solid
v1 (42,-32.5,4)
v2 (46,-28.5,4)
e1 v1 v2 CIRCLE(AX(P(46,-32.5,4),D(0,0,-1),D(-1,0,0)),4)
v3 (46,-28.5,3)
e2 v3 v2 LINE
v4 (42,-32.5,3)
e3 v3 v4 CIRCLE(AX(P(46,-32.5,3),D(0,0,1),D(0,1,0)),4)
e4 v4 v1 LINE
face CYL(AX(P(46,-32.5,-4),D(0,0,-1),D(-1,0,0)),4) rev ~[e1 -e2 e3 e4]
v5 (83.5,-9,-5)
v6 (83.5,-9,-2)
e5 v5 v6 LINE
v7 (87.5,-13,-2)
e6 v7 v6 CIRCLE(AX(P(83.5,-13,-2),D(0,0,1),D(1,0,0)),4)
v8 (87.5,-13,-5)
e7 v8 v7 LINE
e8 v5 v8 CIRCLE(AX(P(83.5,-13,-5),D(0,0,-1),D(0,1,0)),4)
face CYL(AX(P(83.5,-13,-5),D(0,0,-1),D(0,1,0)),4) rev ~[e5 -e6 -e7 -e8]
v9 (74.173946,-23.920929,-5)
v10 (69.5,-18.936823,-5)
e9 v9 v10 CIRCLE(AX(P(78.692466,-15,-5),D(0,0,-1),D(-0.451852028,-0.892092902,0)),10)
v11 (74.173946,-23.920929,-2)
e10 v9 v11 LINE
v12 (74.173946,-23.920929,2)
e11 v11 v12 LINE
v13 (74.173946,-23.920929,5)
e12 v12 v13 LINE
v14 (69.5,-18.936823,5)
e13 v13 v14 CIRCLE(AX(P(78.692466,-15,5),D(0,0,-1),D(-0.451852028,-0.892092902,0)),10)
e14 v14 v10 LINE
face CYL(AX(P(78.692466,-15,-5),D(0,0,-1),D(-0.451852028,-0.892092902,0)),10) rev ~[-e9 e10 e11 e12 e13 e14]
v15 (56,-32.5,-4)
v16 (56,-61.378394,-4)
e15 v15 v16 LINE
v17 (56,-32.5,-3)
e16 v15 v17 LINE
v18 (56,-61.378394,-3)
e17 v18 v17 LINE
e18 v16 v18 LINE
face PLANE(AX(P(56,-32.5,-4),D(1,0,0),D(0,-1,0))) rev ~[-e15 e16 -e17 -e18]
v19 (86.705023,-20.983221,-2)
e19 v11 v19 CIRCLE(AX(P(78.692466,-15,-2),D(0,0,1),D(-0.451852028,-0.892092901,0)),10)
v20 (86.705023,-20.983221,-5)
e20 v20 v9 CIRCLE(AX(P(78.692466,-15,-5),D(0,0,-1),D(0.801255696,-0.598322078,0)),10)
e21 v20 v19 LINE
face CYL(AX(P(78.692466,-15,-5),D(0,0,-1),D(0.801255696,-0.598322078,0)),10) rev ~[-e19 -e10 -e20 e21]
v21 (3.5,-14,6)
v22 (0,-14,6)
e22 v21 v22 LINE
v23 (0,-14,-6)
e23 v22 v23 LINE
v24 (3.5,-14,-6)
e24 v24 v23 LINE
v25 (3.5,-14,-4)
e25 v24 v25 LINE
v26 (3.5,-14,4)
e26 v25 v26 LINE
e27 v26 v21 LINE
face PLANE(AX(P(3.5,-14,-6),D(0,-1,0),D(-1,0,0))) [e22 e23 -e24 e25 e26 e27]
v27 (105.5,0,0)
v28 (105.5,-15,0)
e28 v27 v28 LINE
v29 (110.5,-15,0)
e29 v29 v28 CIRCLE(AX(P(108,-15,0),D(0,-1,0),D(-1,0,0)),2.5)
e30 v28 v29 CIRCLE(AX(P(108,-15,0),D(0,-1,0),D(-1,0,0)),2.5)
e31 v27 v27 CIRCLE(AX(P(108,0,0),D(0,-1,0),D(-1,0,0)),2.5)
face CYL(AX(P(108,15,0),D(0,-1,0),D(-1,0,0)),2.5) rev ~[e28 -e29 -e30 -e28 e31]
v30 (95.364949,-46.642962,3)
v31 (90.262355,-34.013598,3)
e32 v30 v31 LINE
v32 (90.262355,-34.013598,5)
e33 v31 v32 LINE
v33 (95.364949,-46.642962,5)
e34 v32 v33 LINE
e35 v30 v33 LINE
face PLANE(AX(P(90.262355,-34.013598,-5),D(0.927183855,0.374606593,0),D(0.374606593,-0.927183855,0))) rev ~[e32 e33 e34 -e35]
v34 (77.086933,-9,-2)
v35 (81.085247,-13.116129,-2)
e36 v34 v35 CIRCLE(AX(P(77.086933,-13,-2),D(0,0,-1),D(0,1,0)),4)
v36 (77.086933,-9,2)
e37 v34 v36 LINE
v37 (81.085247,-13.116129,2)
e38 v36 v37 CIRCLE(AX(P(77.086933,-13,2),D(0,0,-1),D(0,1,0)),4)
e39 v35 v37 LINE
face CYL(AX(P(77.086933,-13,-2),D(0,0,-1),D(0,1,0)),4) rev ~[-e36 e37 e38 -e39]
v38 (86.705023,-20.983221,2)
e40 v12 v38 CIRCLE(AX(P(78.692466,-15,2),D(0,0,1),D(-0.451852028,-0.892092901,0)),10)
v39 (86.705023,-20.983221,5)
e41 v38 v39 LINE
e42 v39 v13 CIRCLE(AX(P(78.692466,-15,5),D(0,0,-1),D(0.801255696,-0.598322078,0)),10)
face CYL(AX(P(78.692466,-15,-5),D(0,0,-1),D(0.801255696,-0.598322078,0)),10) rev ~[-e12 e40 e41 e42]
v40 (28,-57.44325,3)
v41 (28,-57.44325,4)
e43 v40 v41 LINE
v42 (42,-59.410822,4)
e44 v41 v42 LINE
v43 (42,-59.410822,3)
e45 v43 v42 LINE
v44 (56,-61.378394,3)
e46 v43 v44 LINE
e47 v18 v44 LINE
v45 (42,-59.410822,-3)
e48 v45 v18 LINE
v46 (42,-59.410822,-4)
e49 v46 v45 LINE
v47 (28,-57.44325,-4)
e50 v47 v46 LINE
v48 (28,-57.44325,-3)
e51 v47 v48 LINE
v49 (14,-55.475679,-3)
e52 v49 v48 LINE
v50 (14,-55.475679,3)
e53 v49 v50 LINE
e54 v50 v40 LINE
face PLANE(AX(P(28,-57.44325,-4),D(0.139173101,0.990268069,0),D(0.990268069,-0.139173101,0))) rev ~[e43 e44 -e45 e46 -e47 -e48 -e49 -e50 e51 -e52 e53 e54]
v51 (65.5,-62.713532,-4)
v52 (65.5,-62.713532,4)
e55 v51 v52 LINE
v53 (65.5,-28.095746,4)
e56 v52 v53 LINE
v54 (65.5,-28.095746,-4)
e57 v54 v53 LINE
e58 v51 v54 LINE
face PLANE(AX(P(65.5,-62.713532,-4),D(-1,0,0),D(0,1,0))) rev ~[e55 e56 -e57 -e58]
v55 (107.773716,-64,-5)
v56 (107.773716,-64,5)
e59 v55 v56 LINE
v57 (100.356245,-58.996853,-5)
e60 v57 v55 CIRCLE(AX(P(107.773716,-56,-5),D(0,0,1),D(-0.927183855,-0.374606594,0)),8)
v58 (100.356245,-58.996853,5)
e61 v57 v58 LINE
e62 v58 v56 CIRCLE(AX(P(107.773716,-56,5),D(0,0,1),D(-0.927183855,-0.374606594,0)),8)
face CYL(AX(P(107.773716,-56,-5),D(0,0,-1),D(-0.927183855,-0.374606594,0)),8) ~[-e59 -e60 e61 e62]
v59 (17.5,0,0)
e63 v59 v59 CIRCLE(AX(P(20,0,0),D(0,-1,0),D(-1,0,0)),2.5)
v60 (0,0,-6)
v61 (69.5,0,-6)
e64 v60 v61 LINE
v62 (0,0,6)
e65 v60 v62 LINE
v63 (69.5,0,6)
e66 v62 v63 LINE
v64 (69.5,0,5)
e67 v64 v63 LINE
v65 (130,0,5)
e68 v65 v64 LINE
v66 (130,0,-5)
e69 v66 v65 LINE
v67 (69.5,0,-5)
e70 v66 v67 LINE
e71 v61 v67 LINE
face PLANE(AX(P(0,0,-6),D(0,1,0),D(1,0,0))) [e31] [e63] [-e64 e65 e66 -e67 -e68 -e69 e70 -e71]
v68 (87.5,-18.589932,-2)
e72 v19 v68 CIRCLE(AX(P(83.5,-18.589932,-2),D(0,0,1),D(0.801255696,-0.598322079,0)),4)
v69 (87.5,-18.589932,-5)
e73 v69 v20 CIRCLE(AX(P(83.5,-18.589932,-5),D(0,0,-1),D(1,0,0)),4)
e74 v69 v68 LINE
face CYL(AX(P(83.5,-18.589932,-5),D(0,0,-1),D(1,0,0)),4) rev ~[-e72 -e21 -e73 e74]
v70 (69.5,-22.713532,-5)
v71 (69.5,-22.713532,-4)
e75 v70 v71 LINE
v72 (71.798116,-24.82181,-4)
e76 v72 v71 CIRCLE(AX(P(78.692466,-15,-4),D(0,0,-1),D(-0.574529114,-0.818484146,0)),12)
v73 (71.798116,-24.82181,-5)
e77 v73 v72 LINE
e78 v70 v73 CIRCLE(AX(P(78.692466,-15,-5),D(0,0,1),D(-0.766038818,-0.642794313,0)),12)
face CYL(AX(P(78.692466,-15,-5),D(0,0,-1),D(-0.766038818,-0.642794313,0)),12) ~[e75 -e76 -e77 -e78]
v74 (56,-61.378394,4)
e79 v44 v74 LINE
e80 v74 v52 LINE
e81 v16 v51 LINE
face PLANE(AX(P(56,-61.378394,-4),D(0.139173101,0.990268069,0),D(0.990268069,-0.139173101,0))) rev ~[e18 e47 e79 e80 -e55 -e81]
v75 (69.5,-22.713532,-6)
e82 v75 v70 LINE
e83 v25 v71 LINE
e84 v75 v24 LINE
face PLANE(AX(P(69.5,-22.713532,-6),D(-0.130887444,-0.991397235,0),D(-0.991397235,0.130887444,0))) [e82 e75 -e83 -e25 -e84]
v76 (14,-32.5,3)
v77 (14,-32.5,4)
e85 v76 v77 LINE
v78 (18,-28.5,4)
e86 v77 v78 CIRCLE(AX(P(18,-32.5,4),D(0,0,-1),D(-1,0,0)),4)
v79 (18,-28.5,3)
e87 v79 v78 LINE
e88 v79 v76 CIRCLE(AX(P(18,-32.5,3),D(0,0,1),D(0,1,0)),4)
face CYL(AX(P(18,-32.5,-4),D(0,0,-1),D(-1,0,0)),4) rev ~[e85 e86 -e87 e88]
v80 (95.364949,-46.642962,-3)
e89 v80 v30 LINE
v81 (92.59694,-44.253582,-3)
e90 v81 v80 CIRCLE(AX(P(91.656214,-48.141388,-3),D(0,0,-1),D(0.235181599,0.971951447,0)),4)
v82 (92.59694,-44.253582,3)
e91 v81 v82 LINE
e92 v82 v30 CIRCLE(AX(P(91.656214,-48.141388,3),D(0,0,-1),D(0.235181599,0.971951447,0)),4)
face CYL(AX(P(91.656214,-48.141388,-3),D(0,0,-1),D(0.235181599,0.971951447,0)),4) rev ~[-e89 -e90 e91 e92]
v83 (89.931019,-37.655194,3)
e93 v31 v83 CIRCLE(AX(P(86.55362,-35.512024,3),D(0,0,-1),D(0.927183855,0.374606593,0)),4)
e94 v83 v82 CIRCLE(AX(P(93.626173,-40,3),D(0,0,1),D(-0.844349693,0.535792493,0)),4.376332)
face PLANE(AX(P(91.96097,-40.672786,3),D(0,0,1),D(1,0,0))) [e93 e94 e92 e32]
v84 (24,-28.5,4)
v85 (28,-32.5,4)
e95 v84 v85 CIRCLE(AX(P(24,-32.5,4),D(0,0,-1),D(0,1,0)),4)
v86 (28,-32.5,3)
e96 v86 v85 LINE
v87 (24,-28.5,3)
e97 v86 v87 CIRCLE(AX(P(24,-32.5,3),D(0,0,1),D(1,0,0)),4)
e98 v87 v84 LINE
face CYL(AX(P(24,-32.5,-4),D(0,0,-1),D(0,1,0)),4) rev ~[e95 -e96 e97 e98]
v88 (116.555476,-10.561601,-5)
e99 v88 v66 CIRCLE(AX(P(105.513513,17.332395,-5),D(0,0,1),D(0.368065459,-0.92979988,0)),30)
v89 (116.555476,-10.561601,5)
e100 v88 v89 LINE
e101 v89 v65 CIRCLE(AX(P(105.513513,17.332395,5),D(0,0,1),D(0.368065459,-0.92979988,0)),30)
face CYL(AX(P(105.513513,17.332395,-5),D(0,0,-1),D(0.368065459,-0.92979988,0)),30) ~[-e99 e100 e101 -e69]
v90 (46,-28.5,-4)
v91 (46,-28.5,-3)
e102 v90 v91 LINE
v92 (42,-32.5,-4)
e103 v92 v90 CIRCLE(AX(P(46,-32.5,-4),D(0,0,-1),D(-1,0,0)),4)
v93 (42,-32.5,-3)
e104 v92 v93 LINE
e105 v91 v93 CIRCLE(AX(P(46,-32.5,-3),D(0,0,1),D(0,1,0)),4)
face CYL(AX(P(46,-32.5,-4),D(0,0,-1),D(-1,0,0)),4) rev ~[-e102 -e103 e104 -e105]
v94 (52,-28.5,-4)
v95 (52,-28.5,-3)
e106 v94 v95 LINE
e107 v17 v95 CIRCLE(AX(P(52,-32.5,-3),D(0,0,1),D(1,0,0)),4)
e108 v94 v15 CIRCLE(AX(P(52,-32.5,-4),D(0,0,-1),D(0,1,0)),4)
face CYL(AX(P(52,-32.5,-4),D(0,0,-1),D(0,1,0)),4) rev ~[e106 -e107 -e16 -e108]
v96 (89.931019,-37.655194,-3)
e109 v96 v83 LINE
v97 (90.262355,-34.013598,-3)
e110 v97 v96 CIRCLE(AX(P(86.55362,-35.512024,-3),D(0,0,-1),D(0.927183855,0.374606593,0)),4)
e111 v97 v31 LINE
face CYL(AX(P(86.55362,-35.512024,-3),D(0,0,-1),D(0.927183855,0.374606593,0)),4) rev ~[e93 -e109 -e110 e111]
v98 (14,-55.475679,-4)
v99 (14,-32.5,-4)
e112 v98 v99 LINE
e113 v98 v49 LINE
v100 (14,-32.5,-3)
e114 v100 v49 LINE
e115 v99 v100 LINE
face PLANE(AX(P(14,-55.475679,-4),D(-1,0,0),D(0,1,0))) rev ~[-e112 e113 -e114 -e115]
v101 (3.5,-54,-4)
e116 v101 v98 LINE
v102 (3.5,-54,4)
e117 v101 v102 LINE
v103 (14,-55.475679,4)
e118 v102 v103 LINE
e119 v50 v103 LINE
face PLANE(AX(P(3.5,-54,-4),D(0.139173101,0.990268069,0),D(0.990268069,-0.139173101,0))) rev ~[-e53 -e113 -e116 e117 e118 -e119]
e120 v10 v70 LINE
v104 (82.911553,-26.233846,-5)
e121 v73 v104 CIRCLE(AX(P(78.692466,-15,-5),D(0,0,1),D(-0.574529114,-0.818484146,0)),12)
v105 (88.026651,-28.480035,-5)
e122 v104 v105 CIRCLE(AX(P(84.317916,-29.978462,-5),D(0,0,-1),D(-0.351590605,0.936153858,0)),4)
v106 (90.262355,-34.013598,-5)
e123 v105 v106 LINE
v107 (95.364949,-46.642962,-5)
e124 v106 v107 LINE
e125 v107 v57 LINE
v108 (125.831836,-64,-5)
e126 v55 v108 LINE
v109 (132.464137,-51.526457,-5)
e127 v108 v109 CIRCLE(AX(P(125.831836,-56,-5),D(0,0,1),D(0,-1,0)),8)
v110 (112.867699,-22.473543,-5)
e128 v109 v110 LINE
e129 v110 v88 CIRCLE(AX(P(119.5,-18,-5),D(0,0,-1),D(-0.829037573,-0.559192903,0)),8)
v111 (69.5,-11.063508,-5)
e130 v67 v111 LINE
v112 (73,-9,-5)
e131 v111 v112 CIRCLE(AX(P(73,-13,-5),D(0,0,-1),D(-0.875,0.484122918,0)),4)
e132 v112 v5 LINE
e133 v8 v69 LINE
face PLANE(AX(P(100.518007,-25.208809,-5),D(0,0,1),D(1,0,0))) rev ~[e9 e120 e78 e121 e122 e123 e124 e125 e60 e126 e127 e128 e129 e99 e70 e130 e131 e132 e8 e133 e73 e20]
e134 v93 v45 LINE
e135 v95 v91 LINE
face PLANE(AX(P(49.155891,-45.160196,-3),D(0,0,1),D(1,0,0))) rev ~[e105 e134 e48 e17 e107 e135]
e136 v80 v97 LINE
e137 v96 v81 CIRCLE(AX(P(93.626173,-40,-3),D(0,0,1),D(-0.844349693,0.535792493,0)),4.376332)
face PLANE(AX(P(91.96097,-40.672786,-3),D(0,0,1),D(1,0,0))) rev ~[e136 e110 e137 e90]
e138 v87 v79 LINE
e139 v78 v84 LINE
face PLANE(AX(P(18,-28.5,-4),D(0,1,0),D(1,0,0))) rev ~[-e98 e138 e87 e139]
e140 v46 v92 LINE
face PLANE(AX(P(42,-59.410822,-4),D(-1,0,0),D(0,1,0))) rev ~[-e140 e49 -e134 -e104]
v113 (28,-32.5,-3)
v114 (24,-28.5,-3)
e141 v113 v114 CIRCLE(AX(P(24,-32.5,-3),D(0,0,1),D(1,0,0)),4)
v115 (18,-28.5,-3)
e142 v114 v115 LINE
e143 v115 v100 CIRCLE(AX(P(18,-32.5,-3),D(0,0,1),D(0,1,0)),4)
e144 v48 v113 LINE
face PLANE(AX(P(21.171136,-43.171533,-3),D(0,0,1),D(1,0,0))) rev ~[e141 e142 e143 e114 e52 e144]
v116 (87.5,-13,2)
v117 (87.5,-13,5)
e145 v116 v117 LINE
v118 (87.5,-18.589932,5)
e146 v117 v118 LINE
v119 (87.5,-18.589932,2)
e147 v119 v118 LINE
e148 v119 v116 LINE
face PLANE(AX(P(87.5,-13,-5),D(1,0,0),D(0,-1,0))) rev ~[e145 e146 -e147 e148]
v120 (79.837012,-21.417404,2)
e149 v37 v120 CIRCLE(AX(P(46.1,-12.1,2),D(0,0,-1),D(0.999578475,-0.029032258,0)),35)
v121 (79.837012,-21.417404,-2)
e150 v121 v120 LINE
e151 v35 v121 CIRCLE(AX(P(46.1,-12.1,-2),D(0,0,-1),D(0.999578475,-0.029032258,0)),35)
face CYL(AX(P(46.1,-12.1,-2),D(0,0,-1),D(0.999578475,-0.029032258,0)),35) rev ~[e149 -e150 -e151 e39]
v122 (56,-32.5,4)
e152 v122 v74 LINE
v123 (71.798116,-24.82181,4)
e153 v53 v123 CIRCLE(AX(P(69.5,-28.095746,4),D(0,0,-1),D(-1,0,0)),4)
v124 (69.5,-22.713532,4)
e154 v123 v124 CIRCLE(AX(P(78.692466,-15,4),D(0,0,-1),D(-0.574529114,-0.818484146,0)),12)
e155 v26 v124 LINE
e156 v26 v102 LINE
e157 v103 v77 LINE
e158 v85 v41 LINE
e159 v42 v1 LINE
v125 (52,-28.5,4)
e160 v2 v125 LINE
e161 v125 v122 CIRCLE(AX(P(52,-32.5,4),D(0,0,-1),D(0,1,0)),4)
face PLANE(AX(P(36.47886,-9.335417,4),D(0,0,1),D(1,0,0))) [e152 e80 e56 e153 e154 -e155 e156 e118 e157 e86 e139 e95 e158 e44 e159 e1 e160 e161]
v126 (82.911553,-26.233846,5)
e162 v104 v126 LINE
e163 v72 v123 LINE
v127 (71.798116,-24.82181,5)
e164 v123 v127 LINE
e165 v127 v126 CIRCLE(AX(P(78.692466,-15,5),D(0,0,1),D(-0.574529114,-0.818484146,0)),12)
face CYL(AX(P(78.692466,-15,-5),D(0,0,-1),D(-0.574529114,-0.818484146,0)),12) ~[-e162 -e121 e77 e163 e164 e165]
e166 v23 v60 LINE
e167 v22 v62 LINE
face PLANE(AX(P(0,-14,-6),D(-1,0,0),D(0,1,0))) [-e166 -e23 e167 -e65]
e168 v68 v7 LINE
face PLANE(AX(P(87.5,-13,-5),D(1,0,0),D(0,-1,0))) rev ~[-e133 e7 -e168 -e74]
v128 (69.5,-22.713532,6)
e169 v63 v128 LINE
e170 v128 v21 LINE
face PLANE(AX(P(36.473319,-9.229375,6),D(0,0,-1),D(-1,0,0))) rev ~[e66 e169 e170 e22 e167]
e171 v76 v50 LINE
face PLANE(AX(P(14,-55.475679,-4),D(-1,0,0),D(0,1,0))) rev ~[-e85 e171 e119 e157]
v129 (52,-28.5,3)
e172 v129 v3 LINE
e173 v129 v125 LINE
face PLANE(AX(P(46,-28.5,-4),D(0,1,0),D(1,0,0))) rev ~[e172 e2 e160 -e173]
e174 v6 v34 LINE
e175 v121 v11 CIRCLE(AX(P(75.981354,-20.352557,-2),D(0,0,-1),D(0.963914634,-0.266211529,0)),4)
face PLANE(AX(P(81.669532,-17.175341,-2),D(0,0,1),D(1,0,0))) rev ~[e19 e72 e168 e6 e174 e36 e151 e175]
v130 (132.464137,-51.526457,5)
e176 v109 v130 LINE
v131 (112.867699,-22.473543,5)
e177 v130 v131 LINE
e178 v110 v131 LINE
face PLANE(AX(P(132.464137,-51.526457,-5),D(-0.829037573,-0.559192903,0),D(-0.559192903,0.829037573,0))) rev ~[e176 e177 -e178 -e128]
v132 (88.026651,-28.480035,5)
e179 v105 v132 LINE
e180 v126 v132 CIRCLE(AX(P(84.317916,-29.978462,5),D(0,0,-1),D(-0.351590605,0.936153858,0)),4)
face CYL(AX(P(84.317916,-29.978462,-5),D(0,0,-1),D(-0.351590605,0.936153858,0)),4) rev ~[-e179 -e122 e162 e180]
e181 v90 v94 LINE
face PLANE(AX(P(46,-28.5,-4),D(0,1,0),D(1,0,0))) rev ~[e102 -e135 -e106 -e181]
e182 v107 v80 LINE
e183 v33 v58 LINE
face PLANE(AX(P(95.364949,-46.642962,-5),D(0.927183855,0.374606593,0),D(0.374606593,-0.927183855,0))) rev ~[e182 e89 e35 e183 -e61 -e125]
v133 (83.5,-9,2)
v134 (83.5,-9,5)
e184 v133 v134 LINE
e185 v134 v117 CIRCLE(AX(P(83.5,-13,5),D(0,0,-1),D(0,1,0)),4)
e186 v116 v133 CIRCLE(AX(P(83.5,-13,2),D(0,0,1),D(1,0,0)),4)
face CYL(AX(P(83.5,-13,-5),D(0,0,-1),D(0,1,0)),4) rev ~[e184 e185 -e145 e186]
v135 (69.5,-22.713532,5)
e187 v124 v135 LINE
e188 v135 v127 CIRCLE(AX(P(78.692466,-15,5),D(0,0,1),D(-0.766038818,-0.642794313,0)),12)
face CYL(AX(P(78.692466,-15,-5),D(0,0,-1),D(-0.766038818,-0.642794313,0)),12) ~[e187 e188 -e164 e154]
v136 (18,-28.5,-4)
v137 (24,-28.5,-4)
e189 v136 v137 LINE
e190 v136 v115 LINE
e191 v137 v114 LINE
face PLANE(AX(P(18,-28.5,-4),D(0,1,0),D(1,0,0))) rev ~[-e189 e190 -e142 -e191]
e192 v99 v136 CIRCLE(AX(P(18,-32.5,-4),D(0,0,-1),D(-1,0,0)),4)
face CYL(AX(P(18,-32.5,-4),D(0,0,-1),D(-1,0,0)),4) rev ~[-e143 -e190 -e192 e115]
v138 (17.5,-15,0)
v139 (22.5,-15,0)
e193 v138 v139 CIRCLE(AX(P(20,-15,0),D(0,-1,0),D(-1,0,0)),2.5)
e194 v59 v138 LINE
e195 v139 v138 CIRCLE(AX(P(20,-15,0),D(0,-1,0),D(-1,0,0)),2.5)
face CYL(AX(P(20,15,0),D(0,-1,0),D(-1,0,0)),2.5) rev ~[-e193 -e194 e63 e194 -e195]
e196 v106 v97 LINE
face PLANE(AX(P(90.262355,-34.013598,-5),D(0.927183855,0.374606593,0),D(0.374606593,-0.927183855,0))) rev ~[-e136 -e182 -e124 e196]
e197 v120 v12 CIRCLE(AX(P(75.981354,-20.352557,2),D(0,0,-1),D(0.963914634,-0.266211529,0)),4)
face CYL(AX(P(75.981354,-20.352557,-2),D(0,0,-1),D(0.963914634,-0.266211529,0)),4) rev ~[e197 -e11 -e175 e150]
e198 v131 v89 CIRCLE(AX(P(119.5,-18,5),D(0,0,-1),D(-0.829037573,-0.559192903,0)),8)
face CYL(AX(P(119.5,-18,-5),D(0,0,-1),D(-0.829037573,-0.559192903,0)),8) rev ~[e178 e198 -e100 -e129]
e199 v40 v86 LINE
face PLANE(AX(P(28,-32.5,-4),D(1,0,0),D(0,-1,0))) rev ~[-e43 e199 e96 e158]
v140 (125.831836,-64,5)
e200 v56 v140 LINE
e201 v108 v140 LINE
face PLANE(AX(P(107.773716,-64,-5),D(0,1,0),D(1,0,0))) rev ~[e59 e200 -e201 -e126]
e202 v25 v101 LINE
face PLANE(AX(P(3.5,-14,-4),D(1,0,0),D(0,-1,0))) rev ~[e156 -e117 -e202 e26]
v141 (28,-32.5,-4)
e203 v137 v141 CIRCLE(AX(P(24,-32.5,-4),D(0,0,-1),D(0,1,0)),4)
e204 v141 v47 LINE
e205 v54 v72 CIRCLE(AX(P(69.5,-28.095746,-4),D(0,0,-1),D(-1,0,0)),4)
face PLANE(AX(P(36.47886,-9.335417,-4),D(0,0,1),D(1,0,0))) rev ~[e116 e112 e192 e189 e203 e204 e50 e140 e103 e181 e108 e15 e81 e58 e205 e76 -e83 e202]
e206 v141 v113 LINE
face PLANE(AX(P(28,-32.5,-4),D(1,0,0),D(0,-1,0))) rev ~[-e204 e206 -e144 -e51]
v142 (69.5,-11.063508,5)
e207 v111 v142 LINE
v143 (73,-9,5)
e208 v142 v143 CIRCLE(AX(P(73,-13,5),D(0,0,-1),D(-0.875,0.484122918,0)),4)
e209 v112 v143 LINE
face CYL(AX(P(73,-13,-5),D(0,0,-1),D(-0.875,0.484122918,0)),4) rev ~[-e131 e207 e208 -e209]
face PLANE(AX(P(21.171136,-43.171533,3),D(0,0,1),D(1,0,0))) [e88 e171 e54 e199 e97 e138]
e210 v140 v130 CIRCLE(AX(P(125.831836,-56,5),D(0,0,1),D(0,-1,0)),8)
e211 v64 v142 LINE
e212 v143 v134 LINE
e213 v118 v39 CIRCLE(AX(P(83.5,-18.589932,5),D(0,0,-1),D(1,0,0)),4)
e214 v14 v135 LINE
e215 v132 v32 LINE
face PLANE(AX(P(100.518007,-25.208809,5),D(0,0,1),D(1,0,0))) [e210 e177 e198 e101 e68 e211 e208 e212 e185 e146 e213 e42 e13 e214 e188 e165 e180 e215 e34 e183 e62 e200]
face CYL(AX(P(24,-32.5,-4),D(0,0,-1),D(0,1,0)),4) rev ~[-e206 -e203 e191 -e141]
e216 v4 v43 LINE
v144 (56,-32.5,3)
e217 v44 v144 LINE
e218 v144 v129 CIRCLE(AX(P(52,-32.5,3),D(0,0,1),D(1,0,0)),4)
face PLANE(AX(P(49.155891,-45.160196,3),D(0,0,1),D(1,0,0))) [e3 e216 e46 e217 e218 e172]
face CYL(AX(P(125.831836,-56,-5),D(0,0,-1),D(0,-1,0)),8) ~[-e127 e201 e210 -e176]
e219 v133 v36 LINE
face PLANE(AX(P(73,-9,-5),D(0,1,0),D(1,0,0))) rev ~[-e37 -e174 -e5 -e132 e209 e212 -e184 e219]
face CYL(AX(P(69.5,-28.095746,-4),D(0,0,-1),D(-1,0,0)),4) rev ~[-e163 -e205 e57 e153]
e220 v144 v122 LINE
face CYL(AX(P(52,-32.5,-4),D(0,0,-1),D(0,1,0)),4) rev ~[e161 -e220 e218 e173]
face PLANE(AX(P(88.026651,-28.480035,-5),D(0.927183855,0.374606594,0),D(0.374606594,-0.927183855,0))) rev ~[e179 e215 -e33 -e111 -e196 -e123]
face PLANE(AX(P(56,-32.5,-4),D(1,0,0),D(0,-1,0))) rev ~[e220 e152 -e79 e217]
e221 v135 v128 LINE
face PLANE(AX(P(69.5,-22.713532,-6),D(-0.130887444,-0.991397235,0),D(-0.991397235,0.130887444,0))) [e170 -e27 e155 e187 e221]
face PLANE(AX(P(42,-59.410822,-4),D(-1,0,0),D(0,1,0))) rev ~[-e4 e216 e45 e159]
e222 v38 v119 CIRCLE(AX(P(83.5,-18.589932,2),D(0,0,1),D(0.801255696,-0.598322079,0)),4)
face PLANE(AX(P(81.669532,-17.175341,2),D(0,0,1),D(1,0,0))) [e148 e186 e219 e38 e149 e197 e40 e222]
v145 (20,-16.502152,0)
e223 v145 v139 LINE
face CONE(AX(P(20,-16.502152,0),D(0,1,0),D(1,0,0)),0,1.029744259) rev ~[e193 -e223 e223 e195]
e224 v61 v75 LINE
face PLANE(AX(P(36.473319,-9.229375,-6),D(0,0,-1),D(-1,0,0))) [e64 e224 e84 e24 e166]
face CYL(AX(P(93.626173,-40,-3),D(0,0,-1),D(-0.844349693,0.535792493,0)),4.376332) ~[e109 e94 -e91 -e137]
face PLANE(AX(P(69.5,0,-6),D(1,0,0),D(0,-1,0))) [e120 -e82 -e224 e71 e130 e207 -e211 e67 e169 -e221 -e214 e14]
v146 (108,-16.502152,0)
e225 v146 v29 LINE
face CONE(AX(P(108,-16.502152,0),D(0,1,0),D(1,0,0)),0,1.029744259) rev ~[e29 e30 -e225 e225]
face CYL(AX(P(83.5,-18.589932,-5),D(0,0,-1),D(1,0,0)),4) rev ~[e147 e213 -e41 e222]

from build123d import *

# Parameters (mm, degrees)
EXTRUDE_8_DEPTH        = 4
EXTRUDE_8_DEPTH_BACK   = 4
EXTRUDE_9_DEPTH        = 5
EXTRUDE_9_DEPTH_BACK   = 5
EXTRUDE_10_DEPTH       = 2
EXTRUDE_10_DEPTH_BACK  = 2
EXTRUDE_11_DEPTH       = 3
EXTRUDE_11_DEPTH_BACK  = 3
EXTRUDE_12_DEPTH       = 3
EXTRUDE_12_DEPTH_BACK  = 3
EXTRUDE_13_DEPTH       = 6
EXTRUDE_13_DEPTH_BACK  = 6
HOLE_WIZARD_M6_2_D     = 5
HOLE_WIZARD_M6_2_DEPTH = 15
HOLE_WIZARD_M6_2_TIP   = 1.502151548


with BuildPart() as part:
    # 草图1 → 凸台-拉伸8 (new, two sides: drawn at the far end of the back side and taken through both)
    with BuildSketch(Plane.XY.offset(-EXTRUDE_8_DEPTH_BACK)):
        with BuildLine():
            Line((69.5, 0), (0, 0))
            Line((0, 0), (0, -14))
            Line((0, -14), (3.5, -14))
            Line((3.5, -14), (3.5, -54))
            Line((3.5, -54), (14, -55.475678764))
            Line((14, -55.475678764), (14, -32.5))
            ThreePointArc((14, -32.5), (15.171572875, -29.671572875), (18, -28.5))
            Line((18, -28.5), (24, -28.5))
            ThreePointArc((24, -28.5), (26.828427125, -29.671572875), (28, -32.5))
            Line((28, -32.5), (28, -57.44325045))
            Line((28, -57.44325045), (42, -59.410822136))
            Line((42, -59.410822136), (42, -32.5))
            ThreePointArc((42, -32.5), (43.171572875, -29.671572875), (46, -28.5))
            Line((46, -28.5), (52, -28.5))
            ThreePointArc((52, -28.5), (54.828427125, -29.671572875), (56, -32.5))
            Line((56, -32.5), (56, -61.378393822))
            Line((56, -61.378393822), (65.5, -62.713531752))
            Line((65.5, -62.713531752), (65.5, -28.095746335))
            ThreePointArc((65.5, -28.095746335), (67.655069896, -24.546629134), (71.798116456, -24.821809752))
            ThreePointArc((71.798116456, -24.821809752), (70.580276552, -23.842645827), (69.5, -22.713531752))
            Line((69.5, -22.713531752), (69.5, -18.936822587))
            ThreePointArc((69.5, -18.936822587), (69.221207402, -18.208623367), (69, -17.460915736))
            Line((69, -17.460915736), (69, -13))
            ThreePointArc((69, -13), (69.127016654, -12), (69.5, -11.063508327))
            Line((69.5, -11.063508327), (69.5, 0))
        make_face()
    extrude(amount=EXTRUDE_8_DEPTH + EXTRUDE_8_DEPTH_BACK)

    # 草图1<10> → 凸台-拉伸9 (add, two sides: drawn at the far end of the back side and taken through both)
    with BuildSketch(Plane.XY.offset(-EXTRUDE_9_DEPTH_BACK)):
        with BuildLine():
            Line((130, 0), (69.5, 0))
            Line((69.5, 0), (69.5, -11.063508327))
            ThreePointArc((69.5, -11.063508327), (70.968493994, -9.554280431), (73, -9))
            Line((73, -9), (77.08693273, -9))
            Line((77.08693273, -9), (83.5, -9))
            ThreePointArc((83.5, -9), (86.328427125, -10.171572875), (87.5, -13))
            Line((87.5, -13), (87.5, -18.58993247))
            ThreePointArc((87.5, -18.58993247), (87.296056581, -19.850866423), (86.705022784, -20.983220784))
            ThreePointArc((86.705022784, -20.983220784), (80.974921845, -24.736035873), (74.173945542, -23.920929013))
            ThreePointArc((74.173945542, -23.920929013), (71.398076595, -21.840459472), (69.5, -18.936822587))
            Line((69.5, -18.936822587), (69.5, -22.713531752))
            ThreePointArc((69.5, -22.713531752), (70.580276552, -23.842645827), (71.798116456, -24.821809752))
            ThreePointArc((71.798116456, -24.821809752), (77.179945202, -26.904296761), (82.91155309, -26.233846298))
            ThreePointArc((82.91155309, -26.233846298), (85.926197724, -26.316026977), (88.02665093, -28.480035357))
            Line((88.02665093, -28.480035357), (90.262355313, -34.013597882))
            Line((90.262355313, -34.013597882), (95.364949439, -46.642961524))
            Line((95.364949439, -46.642961524), (100.356245485, -58.996852747))
            ThreePointArc((100.356245485, -58.996852747), (103.300173094, -62.63230058), (107.773716321, -64))
            Line((107.773716321, -64), (125.831836464, -64))
            ThreePointArc((125.831836464, -64), (132.895417207, -59.755772502), (132.464137044, -51.526456772))
            Line((132.464137044, -51.526456772), (112.86769942, -22.473543228))
            ThreePointArc((112.86769942, -22.473543228), (111.857848283, -15.634092747), (116.555476326, -10.561600956))
            ThreePointArc((116.555476326, -10.561600956), (124.046039774, -6.258819743), (130, 0))
        make_face()
    extrude(amount=EXTRUDE_9_DEPTH + EXTRUDE_9_DEPTH_BACK)

    # 草图1<11> → 凸台-拉伸10 (add, two sides: drawn at the far end of the back side and taken through both)
    with BuildSketch(Plane.XY.offset(-EXTRUDE_10_DEPTH_BACK)):
        with BuildLine():
            ThreePointArc((79.837012191, -21.417403525), (77.598679354, -24.011007569), (74.173945542, -23.920929013))
            ThreePointArc((74.173945542, -23.920929013), (80.974921845, -24.736035873), (86.705022784, -20.983220784))
            ThreePointArc((86.705022784, -20.983220784), (87.296056581, -19.850866423), (87.5, -18.58993247))
            Line((87.5, -18.58993247), (87.5, -13))
            ThreePointArc((87.5, -13), (86.328427125, -10.171572875), (83.5, -9))
            Line((83.5, -9), (77.08693273, -9))
            ThreePointArc((77.08693273, -9), (79.956123916, -10.212933095), (81.08524663, -13.116129032))
            ThreePointArc((81.08524663, -13.116129032), (80.710908742, -17.304324748), (79.837012191, -21.417403525))
        make_face()
    extrude(amount=EXTRUDE_10_DEPTH + EXTRUDE_10_DEPTH_BACK)

    # 草图1<12> → 凸台-拉伸11 (add, two sides: drawn at the far end of the back side and taken through both)
    with BuildSketch(Plane.XY.offset(-EXTRUDE_11_DEPTH_BACK)):
        with BuildLine():
            Line((95.364949439, -46.642961524), (90.262355313, -34.013597882))
            ThreePointArc((90.262355313, -34.013597882), (90.537164852, -35.874473659), (89.931018667, -37.655194228))
            ThreePointArc((89.931018667, -37.655194228), (89.568508885, -41.63940278), (92.596940419, -44.25358211))
            ThreePointArc((92.596940419, -44.25358211), (94.269957944, -45.113460767), (95.364949439, -46.642961524))
        make_face()
    extrude(amount=EXTRUDE_11_DEPTH + EXTRUDE_11_DEPTH_BACK)

    # 草图1<13> → 凸台-拉伸12 (add, two sides: drawn at the far end of the back side and taken through both)
    with BuildSketch(Plane.XY.offset(-EXTRUDE_12_DEPTH_BACK)):
        with BuildLine():
            Line((14, -32.5), (14, -55.475678764))
            Line((14, -55.475678764), (28, -57.44325045))
            Line((28, -57.44325045), (28, -32.5))
            ThreePointArc((28, -32.5), (26.828427125, -29.671572875), (24, -28.5))
            Line((24, -28.5), (18, -28.5))
            ThreePointArc((18, -28.5), (15.171572875, -29.671572875), (14, -32.5))
        make_face()
        with BuildLine():
            Line((42, -32.5), (42, -59.410822136))
            Line((42, -59.410822136), (56, -61.378393822))
            Line((56, -61.378393822), (56, -32.5))
            ThreePointArc((56, -32.5), (54.828427125, -29.671572875), (52, -28.5))
            Line((52, -28.5), (46, -28.5))
            ThreePointArc((46, -28.5), (43.171572875, -29.671572875), (42, -32.5))
        make_face()
    extrude(amount=EXTRUDE_12_DEPTH + EXTRUDE_12_DEPTH_BACK)

    # 草图13 → 凸台-拉伸13 (add, two sides: drawn at the far end of the back side and taken through both)
    with BuildSketch(Plane.XY.offset(-EXTRUDE_13_DEPTH_BACK)):
        Polygon((69.5, 0), (69.5, -22.713531752), (3.5, -14), (0, -14), (0, 0), align=None)
    extrude(amount=EXTRUDE_13_DEPTH + EXTRUDE_13_DEPTH_BACK)

    # M6 螺纹孔2
    with Locations(Plane(origin=(0, 0, 0), x_dir=(1, 0, 0), z_dir=(0, 1, 0))):
        with Locations((20, 0), (108, 0)):
            Hole(HOLE_WIZARD_M6_2_D / 2, depth=HOLE_WIZARD_M6_2_DEPTH)
            with Locations((0, 0, -(HOLE_WIZARD_M6_2_DEPTH + HOLE_WIZARD_M6_2_TIP / 2))):  # 118° drill point
                Cone(0, HOLE_WIZARD_M6_2_D / 2, HOLE_WIZARD_M6_2_TIP, mode=Mode.SUBTRACT)


solid = part.part
